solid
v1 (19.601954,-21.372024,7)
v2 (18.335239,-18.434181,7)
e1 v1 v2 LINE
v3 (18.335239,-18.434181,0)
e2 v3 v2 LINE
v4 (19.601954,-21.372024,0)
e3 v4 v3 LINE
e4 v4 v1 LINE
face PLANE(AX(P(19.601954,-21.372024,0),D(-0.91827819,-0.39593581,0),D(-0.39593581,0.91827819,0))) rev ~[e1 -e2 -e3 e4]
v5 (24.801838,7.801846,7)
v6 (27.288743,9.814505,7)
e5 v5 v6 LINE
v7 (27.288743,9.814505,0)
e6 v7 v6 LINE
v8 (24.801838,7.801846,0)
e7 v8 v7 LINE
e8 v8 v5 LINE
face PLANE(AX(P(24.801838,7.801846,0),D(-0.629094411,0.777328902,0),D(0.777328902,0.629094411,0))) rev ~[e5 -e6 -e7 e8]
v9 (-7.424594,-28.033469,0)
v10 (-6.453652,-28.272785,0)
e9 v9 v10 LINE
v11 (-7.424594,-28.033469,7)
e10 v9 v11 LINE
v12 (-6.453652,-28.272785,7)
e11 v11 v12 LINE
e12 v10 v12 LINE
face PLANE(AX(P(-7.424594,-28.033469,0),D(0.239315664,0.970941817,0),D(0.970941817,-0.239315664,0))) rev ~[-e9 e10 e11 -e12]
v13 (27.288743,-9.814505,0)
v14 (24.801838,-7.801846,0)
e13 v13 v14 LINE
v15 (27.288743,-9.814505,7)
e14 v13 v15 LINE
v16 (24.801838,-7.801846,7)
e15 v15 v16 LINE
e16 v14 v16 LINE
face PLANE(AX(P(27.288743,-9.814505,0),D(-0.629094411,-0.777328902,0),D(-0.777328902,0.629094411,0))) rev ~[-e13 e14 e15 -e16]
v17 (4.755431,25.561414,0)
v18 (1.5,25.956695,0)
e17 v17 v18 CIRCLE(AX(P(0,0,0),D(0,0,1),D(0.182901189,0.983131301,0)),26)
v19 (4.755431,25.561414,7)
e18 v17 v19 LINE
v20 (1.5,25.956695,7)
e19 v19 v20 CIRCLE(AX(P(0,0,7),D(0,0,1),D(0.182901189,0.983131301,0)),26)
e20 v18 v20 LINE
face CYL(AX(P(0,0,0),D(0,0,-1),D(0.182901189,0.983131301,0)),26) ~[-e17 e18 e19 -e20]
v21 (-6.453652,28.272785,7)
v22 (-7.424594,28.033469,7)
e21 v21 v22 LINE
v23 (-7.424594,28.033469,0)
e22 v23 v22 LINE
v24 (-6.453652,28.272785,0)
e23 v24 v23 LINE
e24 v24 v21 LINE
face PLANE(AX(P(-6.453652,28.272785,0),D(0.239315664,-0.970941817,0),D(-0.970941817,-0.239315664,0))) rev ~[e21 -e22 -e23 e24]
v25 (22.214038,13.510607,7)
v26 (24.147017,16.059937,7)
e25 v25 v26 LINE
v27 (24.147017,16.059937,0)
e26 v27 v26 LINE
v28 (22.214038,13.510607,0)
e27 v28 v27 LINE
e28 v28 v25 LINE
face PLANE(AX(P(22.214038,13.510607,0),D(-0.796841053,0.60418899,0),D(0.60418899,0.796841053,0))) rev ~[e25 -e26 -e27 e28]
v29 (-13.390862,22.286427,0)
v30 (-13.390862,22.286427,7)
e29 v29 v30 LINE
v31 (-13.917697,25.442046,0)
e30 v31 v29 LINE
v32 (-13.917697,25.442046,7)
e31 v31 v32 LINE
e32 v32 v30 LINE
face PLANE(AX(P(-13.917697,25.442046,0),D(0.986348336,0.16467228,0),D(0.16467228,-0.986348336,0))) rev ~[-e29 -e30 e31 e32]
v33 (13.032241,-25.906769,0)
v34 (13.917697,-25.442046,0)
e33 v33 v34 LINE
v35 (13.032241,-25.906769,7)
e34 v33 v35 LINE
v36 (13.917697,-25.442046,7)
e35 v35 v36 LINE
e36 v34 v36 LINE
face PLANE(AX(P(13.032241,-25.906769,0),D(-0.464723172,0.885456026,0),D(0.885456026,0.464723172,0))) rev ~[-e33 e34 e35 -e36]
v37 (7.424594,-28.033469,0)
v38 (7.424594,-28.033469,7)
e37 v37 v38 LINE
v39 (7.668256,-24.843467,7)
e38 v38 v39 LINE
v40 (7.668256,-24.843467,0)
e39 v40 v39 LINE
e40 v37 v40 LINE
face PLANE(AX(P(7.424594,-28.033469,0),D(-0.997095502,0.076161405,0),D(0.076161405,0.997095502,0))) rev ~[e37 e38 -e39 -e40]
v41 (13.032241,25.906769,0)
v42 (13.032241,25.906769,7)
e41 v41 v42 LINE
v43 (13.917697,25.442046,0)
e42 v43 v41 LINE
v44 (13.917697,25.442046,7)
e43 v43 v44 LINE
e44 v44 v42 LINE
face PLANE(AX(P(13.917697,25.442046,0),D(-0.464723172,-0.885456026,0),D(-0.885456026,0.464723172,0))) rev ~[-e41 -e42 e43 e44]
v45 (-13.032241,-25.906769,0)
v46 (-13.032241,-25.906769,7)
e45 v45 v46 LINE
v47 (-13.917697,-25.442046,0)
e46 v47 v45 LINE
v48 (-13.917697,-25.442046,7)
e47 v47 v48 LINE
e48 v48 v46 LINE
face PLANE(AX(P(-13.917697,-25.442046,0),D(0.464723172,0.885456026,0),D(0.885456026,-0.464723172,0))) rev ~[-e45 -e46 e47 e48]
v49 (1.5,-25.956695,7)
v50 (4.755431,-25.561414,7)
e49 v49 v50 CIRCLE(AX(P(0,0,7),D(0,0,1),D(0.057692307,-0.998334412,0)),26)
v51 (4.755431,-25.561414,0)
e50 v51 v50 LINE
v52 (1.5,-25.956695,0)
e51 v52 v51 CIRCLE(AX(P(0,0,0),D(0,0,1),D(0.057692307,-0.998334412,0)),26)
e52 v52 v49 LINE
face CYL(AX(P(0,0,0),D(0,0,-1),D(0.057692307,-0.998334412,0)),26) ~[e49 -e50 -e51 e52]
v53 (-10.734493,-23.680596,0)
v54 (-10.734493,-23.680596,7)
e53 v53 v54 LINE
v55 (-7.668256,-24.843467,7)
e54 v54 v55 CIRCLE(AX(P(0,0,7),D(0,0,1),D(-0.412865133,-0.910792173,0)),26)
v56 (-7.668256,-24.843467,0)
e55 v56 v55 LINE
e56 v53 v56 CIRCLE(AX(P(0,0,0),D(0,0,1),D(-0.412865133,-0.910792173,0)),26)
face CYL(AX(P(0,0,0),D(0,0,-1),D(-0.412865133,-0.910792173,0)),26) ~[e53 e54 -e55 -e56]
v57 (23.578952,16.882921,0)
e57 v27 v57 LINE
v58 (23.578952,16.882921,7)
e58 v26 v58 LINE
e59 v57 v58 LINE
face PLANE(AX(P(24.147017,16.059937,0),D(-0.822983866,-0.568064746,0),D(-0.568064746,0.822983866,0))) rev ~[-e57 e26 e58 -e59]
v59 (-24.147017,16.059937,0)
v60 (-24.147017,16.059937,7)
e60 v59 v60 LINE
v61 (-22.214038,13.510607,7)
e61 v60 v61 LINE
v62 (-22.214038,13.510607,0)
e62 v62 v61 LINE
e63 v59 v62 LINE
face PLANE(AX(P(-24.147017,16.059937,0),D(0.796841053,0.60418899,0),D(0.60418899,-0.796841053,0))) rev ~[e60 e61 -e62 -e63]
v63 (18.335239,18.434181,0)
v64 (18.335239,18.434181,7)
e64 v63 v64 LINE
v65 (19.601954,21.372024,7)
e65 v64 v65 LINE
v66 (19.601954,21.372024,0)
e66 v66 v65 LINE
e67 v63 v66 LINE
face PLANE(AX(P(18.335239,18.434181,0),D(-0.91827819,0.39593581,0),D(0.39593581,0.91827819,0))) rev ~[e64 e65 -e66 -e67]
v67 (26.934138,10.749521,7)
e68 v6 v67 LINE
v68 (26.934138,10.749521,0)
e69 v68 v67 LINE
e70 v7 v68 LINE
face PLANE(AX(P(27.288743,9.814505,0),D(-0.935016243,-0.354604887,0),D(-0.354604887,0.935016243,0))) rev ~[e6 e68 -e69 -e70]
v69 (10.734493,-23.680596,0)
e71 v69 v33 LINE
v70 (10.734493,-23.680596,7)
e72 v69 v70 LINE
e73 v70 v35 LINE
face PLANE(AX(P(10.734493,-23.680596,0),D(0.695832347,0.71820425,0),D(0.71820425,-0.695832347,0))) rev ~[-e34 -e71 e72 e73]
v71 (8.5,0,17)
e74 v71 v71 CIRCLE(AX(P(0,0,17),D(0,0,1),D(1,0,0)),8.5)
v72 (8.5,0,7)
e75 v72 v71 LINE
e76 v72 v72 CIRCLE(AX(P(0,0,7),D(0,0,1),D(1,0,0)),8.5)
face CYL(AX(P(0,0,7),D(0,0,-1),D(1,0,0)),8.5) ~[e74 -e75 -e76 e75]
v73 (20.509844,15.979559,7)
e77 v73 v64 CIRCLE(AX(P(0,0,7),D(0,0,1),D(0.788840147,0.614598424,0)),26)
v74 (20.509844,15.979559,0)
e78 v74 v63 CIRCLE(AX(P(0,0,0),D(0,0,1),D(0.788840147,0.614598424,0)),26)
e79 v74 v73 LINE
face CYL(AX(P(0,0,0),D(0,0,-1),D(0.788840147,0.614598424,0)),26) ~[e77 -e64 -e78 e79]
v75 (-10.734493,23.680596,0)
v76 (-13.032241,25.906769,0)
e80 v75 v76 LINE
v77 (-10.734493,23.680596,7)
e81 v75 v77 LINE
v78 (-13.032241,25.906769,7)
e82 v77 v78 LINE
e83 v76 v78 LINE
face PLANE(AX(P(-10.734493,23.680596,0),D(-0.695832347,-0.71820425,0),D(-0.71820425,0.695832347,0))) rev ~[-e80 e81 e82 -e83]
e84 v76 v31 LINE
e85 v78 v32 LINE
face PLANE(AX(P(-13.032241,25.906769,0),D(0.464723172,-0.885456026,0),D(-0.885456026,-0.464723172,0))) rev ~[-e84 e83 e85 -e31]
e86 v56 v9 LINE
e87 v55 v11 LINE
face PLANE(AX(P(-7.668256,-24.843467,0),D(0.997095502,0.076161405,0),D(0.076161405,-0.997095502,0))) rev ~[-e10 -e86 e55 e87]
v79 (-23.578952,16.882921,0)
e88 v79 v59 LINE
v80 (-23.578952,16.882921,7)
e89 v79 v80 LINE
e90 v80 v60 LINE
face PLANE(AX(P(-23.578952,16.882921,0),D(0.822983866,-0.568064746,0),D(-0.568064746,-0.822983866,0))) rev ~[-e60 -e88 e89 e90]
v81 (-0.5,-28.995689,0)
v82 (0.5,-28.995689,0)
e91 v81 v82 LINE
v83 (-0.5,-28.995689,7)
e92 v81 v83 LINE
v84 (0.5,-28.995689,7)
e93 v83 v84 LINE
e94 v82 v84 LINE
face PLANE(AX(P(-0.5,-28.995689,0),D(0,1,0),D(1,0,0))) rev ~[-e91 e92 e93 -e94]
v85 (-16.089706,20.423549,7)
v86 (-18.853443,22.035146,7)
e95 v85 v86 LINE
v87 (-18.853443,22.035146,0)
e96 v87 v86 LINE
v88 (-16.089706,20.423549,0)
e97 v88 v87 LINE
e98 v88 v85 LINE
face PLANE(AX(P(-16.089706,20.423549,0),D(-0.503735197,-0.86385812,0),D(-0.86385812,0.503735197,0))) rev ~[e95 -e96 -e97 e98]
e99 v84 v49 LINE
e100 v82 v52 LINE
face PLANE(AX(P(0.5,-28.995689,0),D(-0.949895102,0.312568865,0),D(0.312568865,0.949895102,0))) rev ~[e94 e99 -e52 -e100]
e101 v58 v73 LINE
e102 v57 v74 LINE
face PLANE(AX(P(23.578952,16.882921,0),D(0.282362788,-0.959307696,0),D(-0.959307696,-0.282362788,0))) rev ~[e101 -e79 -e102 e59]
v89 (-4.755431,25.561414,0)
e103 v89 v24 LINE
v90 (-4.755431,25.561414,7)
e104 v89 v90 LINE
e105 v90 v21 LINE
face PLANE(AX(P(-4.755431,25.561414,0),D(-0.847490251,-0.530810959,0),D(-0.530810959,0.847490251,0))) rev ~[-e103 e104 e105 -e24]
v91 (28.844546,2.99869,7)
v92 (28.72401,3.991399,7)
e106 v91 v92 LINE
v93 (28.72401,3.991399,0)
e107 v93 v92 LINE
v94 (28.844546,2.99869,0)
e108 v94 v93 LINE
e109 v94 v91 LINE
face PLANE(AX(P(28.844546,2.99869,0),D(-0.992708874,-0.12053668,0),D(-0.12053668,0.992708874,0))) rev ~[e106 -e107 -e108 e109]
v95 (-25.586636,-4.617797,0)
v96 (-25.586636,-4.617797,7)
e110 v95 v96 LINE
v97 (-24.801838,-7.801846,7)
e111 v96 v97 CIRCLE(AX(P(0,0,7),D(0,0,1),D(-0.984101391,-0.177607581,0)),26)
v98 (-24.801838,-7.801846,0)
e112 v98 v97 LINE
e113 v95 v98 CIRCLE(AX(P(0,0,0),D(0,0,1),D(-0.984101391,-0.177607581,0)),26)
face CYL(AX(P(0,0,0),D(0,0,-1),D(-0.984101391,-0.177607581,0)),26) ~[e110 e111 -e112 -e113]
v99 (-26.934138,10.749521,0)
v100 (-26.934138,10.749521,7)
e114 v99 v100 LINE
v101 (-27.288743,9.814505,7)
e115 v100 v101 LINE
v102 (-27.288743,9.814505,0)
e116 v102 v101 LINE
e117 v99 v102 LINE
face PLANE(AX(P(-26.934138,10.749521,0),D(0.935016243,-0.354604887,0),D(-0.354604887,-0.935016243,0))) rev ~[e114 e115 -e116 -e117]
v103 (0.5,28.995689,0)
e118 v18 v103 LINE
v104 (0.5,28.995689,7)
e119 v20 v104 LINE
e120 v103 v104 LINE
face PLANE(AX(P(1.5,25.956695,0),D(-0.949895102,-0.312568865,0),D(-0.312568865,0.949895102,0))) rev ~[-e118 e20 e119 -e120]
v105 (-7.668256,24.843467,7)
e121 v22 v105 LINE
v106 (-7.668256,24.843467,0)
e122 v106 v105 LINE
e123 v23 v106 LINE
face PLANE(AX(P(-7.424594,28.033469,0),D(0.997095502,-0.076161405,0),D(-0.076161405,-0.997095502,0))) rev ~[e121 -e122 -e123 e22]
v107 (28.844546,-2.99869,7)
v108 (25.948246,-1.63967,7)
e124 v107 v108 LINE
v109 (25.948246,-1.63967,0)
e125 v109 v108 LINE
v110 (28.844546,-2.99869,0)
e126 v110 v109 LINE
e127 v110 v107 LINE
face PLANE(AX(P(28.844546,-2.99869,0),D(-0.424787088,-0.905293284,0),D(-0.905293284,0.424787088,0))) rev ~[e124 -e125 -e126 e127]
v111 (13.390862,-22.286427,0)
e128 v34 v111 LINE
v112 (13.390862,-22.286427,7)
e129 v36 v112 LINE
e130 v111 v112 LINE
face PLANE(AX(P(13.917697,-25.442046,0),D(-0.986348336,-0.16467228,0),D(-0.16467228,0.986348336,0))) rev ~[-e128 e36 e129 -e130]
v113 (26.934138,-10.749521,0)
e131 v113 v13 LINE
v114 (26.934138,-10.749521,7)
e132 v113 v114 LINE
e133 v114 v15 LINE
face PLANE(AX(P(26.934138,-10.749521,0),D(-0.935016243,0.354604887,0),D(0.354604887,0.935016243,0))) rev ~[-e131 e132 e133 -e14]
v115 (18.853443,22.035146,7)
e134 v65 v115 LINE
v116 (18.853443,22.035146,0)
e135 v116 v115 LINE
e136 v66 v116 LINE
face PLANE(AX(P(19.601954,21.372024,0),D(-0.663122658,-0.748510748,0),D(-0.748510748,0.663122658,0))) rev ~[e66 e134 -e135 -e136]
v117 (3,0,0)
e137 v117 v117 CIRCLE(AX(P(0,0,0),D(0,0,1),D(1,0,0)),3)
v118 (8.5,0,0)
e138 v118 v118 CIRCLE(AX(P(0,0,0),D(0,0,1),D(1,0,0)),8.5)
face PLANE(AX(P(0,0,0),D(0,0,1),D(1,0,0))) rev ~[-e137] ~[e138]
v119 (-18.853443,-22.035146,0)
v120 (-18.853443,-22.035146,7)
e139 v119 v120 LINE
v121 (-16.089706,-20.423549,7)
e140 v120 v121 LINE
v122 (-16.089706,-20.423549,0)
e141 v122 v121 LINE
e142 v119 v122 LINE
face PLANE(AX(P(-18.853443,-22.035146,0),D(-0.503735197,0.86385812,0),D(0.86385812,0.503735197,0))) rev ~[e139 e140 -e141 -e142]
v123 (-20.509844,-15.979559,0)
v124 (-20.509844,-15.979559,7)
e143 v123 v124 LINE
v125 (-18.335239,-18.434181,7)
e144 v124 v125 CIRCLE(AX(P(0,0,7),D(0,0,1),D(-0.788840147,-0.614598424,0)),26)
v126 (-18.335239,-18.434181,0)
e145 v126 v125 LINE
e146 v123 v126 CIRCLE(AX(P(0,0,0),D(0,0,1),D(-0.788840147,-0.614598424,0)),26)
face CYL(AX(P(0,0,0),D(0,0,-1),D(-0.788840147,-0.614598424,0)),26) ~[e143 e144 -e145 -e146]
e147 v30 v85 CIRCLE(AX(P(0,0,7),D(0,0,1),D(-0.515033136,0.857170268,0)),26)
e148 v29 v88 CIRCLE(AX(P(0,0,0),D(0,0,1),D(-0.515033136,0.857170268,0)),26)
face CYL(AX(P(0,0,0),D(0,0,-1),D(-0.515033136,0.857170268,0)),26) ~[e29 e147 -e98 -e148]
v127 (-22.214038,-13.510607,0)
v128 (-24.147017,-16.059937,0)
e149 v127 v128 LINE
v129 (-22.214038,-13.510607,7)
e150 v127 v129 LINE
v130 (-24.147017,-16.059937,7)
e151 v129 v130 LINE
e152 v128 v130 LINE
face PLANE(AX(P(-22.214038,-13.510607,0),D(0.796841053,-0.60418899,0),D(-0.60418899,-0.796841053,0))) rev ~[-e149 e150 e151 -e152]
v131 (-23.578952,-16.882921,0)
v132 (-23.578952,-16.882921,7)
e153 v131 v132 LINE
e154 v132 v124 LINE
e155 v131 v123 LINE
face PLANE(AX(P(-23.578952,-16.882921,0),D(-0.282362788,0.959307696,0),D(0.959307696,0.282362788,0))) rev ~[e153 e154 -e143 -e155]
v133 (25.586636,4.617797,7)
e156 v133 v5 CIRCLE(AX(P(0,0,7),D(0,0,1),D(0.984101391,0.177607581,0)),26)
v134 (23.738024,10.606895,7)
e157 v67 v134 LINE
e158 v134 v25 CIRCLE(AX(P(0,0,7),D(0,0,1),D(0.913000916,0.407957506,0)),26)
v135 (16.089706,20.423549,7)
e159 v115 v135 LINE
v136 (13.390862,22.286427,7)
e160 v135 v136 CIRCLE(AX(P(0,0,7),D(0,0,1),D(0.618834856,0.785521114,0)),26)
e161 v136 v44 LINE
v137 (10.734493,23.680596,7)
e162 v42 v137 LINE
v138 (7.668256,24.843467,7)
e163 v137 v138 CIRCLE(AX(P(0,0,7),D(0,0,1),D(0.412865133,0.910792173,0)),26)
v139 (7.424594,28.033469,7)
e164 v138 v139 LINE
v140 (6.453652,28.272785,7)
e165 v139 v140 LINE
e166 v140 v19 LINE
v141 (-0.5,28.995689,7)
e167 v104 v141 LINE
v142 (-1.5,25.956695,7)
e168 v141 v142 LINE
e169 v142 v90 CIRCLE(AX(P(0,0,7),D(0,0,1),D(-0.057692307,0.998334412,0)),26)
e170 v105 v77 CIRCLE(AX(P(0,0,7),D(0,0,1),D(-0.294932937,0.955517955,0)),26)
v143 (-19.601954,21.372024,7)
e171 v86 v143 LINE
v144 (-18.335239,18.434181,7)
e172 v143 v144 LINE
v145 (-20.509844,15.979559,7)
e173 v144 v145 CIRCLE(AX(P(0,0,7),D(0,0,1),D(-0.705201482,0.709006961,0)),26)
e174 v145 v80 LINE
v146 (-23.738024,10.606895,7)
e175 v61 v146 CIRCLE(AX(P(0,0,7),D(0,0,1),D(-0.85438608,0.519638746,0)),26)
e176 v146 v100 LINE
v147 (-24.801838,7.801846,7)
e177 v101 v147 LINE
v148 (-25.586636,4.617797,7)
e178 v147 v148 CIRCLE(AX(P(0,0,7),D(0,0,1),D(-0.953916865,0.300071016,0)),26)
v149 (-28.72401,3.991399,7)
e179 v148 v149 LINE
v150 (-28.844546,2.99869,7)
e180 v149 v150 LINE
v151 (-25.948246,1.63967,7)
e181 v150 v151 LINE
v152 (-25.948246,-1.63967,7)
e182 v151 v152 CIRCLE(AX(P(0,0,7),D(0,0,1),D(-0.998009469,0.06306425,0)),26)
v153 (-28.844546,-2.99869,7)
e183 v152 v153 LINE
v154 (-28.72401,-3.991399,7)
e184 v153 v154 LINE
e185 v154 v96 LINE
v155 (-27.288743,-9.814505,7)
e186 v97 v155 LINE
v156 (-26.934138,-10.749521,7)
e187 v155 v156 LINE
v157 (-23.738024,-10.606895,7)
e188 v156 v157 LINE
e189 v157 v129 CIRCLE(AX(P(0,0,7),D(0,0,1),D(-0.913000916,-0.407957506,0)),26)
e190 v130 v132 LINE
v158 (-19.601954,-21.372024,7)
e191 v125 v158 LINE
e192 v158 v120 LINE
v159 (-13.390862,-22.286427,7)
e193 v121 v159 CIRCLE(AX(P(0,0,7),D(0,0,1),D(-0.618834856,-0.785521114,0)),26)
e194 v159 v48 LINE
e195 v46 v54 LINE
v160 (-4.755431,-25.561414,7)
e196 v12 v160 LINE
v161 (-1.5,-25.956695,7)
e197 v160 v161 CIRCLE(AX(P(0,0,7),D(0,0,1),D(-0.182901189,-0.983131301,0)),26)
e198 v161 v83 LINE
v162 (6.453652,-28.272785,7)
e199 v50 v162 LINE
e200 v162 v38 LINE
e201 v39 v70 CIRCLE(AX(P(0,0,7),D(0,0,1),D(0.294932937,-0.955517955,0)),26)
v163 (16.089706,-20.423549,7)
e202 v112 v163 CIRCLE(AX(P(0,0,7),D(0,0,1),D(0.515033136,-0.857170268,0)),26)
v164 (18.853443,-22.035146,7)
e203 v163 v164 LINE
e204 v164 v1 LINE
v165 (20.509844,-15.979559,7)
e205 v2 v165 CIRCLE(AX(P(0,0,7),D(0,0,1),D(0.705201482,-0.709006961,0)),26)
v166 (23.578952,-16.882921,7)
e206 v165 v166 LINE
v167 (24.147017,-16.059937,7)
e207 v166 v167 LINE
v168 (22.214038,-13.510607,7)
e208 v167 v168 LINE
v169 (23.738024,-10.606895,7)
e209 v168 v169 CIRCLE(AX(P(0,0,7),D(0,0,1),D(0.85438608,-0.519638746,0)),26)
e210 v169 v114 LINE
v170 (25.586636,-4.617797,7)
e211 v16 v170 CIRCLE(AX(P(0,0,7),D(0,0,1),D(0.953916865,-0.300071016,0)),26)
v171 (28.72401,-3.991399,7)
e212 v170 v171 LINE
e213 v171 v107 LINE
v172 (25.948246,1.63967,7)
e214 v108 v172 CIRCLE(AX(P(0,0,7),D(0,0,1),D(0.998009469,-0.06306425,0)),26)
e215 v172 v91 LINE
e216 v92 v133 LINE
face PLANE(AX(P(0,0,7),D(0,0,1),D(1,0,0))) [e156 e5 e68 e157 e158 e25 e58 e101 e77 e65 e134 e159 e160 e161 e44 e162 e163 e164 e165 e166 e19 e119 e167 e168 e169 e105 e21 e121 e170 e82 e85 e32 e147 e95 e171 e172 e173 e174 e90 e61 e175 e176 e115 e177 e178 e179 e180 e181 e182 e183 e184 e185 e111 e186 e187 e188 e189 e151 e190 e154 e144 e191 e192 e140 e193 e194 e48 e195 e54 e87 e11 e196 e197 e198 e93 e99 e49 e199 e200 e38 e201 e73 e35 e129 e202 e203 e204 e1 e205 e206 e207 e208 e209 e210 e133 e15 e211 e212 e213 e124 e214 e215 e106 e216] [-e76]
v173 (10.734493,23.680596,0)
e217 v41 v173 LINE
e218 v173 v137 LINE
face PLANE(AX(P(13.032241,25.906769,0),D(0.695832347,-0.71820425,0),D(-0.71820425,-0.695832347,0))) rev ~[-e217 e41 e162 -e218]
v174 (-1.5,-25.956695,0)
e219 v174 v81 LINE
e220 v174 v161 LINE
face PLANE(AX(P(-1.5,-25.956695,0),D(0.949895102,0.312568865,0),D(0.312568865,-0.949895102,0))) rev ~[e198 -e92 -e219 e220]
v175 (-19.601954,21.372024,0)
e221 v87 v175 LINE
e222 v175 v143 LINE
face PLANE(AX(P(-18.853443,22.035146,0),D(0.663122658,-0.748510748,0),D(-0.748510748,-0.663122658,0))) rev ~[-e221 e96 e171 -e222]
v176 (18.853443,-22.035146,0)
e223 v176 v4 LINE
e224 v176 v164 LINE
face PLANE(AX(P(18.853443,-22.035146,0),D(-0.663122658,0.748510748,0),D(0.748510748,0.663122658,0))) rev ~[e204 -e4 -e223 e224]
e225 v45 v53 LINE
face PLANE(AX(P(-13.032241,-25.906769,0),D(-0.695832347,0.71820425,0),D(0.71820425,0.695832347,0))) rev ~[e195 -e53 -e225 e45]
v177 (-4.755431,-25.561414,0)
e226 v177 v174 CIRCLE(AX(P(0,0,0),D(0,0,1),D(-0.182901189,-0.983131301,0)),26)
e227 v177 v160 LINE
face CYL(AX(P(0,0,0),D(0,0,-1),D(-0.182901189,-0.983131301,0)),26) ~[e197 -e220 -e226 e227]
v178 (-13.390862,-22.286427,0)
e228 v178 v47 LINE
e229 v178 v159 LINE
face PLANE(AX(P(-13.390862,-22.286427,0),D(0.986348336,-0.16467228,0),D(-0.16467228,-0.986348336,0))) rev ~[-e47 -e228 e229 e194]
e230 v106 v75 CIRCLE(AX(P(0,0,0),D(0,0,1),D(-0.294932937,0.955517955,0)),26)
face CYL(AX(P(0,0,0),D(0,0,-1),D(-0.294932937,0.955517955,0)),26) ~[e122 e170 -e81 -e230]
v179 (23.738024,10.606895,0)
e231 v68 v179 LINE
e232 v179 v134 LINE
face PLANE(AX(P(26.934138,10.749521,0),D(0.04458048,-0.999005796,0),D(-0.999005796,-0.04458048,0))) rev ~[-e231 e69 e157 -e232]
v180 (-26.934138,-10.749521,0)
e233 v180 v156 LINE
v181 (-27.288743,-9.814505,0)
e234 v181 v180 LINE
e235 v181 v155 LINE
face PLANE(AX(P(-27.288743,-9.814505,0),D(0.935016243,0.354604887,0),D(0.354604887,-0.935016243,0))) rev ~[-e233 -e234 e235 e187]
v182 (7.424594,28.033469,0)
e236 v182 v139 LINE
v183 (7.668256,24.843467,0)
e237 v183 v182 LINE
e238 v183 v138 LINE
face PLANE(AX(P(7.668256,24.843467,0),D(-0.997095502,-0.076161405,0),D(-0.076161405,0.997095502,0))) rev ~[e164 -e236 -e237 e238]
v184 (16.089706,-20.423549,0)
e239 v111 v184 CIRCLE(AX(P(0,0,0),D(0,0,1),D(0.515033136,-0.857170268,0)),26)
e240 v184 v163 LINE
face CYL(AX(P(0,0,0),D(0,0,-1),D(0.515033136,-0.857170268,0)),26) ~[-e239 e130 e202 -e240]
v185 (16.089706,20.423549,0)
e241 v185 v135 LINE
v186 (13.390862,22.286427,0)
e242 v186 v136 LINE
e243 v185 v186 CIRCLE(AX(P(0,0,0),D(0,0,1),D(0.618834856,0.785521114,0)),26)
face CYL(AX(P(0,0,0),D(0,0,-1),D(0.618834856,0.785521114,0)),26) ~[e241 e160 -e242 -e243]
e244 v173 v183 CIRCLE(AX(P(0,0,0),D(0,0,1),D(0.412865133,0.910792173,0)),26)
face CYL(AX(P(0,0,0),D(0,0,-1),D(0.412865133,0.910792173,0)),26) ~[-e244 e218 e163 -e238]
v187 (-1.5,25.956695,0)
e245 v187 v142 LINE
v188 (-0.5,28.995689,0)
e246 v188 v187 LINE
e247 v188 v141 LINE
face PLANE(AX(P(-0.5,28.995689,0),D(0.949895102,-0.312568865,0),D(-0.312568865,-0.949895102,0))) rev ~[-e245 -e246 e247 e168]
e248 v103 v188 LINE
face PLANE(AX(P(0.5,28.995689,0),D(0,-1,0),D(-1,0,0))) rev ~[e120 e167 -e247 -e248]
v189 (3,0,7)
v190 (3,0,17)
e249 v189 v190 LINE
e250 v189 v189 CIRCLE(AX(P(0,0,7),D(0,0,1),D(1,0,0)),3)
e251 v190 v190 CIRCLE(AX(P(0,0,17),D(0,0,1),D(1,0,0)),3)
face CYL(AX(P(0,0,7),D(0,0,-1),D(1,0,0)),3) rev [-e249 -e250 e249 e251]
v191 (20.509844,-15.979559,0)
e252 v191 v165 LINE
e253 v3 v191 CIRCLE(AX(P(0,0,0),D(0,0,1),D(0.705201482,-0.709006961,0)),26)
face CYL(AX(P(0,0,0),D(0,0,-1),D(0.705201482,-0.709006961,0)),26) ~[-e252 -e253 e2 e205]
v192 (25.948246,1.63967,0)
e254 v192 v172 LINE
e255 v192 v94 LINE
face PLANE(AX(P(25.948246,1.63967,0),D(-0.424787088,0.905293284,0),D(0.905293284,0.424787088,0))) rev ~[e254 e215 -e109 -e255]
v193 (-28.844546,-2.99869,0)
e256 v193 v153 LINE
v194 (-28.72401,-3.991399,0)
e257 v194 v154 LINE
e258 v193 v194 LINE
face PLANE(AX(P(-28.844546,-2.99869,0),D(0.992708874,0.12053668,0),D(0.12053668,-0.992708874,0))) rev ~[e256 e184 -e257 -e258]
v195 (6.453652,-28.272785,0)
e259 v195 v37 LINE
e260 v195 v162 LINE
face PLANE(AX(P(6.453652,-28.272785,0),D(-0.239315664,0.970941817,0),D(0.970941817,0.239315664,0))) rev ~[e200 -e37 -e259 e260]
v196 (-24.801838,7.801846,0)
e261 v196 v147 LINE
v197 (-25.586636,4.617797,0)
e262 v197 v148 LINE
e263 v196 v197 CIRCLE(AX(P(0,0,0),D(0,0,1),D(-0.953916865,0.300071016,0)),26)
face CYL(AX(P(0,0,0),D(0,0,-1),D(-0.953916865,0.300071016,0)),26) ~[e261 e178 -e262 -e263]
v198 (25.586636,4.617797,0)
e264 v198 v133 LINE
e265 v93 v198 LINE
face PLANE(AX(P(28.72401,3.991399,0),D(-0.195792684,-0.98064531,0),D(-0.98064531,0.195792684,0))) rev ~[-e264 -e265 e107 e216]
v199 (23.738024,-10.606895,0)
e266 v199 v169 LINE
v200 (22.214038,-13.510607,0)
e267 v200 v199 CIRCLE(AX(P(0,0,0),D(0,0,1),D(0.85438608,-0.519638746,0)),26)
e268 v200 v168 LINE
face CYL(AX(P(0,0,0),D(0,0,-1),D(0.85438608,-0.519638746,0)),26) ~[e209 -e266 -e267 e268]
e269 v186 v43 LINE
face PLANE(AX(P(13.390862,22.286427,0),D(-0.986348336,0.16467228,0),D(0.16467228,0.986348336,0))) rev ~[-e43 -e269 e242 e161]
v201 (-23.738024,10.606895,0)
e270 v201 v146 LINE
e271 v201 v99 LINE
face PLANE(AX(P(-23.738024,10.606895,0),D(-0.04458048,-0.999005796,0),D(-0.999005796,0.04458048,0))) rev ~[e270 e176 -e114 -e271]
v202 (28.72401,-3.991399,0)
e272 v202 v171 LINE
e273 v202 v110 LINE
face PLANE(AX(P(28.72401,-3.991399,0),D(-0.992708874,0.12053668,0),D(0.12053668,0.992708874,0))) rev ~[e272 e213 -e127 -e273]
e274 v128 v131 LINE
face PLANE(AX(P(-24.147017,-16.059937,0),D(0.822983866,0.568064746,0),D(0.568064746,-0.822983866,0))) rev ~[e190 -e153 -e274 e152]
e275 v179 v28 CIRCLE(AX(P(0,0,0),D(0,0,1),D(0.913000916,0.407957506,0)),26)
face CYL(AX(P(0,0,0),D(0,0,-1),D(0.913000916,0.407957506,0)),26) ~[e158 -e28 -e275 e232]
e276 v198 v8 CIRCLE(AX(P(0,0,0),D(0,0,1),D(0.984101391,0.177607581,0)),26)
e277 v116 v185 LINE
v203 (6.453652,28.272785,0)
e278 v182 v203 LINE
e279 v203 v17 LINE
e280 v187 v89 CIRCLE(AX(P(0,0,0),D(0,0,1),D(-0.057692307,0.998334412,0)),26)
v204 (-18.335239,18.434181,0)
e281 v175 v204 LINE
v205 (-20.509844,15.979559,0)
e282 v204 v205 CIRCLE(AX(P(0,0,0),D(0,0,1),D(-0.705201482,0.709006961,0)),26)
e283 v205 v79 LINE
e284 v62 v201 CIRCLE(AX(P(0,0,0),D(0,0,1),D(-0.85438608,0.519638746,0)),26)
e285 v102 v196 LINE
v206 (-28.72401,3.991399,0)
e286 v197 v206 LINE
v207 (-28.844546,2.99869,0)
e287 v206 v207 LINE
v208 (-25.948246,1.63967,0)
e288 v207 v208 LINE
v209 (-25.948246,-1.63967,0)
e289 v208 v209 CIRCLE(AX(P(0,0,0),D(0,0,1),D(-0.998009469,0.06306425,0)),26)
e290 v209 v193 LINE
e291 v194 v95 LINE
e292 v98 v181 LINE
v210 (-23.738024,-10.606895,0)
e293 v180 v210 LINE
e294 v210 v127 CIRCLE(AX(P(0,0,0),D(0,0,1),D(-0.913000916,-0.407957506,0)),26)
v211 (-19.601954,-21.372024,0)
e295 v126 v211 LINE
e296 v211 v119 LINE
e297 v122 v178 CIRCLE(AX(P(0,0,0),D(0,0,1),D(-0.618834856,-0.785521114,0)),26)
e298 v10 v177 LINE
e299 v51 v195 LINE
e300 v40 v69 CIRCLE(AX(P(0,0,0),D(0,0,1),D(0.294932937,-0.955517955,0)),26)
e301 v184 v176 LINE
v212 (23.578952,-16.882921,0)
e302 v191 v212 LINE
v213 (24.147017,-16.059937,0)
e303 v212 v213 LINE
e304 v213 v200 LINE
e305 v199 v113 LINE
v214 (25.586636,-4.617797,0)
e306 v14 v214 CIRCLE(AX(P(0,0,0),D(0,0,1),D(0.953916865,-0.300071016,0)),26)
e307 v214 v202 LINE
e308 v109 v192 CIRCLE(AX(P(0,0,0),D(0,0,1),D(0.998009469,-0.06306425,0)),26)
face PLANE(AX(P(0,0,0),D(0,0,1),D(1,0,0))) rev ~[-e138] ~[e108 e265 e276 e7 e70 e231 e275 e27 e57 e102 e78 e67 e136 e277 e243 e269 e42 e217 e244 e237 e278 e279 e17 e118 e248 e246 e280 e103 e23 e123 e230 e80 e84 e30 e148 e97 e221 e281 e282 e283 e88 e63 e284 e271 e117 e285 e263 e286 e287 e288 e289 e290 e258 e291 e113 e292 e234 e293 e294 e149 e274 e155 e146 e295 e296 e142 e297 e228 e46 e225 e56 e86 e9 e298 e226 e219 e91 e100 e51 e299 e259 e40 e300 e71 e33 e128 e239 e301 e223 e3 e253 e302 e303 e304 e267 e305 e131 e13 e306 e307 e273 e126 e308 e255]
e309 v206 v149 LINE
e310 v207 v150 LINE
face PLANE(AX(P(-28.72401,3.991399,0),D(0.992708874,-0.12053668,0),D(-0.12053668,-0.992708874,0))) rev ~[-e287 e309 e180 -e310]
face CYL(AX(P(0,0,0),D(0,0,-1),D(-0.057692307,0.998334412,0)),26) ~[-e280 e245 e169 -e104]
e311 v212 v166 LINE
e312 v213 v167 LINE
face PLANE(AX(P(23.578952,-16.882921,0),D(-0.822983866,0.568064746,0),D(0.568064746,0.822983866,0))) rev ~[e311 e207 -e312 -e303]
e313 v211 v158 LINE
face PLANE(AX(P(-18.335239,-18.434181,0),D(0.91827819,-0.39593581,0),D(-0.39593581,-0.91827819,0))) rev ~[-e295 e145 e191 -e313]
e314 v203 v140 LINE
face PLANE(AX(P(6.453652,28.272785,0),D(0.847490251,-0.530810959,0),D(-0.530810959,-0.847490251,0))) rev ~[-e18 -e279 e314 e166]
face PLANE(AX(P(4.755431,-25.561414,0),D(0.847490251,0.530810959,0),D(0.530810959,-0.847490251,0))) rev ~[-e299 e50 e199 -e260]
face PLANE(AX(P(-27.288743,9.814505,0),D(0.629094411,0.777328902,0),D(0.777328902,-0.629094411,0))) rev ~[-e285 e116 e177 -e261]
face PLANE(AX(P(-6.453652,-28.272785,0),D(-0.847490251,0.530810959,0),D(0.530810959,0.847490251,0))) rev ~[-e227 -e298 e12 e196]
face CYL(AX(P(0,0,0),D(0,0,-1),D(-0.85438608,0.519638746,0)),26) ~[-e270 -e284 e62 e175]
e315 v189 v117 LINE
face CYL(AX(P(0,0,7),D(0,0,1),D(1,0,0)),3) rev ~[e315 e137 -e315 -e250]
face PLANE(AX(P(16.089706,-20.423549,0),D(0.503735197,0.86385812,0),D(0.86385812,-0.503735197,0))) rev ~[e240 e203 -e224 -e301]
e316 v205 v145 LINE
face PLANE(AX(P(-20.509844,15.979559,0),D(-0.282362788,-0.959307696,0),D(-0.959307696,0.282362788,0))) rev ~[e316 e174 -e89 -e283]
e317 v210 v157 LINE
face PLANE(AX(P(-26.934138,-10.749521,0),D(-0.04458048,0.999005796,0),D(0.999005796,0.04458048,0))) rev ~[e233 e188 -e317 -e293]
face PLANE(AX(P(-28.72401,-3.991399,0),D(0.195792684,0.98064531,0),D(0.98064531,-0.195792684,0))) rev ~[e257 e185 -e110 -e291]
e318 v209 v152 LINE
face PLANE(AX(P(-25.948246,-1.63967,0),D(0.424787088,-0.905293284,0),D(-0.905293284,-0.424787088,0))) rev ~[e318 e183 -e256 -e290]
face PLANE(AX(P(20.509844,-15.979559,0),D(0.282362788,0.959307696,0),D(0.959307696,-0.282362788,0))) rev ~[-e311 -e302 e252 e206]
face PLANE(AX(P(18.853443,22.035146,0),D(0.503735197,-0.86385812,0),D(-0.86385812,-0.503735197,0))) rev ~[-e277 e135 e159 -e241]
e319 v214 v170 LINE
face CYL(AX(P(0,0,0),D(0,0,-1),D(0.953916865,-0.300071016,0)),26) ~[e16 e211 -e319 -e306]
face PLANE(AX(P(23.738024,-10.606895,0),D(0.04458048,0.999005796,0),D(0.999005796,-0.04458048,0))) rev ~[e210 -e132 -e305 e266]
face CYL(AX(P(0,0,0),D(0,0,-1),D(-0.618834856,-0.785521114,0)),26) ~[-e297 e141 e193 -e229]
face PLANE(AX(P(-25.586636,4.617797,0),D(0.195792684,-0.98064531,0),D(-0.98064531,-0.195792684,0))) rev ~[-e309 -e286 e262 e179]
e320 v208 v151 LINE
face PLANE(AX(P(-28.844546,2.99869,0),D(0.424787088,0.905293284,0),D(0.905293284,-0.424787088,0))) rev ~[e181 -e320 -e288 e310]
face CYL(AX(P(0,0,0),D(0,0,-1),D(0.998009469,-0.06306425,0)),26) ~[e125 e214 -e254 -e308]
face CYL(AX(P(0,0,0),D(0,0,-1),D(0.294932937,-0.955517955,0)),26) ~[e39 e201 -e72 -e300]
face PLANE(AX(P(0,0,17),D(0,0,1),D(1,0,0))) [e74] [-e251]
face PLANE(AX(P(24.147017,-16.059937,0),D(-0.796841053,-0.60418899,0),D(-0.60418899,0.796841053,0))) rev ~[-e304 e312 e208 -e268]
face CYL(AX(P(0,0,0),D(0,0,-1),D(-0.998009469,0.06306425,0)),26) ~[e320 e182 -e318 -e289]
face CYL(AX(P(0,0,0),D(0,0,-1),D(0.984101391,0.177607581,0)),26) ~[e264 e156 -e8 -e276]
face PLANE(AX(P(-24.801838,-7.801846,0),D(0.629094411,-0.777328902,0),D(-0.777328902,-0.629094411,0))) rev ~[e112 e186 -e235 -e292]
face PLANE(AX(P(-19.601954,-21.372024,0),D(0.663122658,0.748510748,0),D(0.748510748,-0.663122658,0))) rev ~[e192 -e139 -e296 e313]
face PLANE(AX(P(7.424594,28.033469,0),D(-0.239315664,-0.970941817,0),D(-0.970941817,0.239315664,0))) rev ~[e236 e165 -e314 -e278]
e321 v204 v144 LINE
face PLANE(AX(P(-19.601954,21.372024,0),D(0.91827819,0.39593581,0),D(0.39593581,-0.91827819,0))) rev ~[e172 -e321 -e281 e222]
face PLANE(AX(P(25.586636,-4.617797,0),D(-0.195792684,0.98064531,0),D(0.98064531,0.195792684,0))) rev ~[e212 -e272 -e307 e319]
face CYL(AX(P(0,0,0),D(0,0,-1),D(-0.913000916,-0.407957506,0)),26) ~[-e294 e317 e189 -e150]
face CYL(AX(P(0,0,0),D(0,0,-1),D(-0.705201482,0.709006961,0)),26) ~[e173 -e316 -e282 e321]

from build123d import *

# Parameters (mm, degrees)
SKETCH1_R                = 8.5
BOSS_EXTRUDE1_DEPTH      = 7
SKETCH2_R                = 8.5
SKETCH2_R_2              = 3
BOSS_EXTRUDE2_DEPTH      = 10
BOSS_EXTRUDE2_DEPTH_BACK = 7


with BuildPart() as part:
    # Sketch1 → Boss-Extrude1 (new body)
    with BuildSketch(Plane.XY):
        with BuildLine():
            Line((6.453651746, 28.272785132), (4.75543091, 25.561413828))
            ThreePointArc((4.75543091, 25.561413828), (3.133953687, 25.810430727), (1.5, 25.956694705))
            Line((1.5, 25.956694705), (0.5, 28.995689335))
            Line((0.5, 28.995689335), (-0.5, 28.995689335))
            Line((-0.5, 28.995689335), (-1.5, 25.956694705))
            ThreePointArc((-1.5, 25.956694705), (-3.133953687, 25.810430727), (-4.75543091, 25.561413828))
            Line((-4.75543091, 25.561413828), (-6.453651746, 28.272785132))
            Line((-6.453651746, 28.272785132), (-7.424593563, 28.033469468))
            Line((-7.424593563, 28.033469468), (-7.668256362, 24.843466835))
            ThreePointArc((-7.668256362, 24.843466835), (-9.219727063, 24.31042231), (-10.734493461, 23.680596491))
            Line((-10.734493461, 23.680596491), (-13.03224071, 25.906769425))
            Line((-13.03224071, 25.906769425), (-13.917696736, 25.442046253))
            Line((-13.917696736, 25.442046253), (-13.390861537, 22.286426974))
            ThreePointArc((-13.390861537, 22.286426974), (-14.769683415, 21.397580513), (-16.08970627, 20.423548961))
            Line((-16.08970627, 20.423548961), (-18.853443215, 22.035146447))
            Line((-18.853443215, 22.035146447), (-19.601953963, 21.372023789))
            Line((-19.601953963, 21.372023789), (-18.335238514, 18.434180986))
            ThreePointArc((-18.335238514, 18.434180986), (-19.461279452, 17.241189114), (-20.509843834, 15.979559002))
            Line((-20.509843834, 15.979559002), (-23.57895213, 16.882920851))
            Line((-23.57895213, 16.882920851), (-24.147016876, 16.059936985))
            Line((-24.147016876, 16.059936985), (-22.214038074, 13.510607405))
            ThreePointArc((-22.214038074, 13.510607405), (-23.021856667, 12.082802473), (-23.738023825, 10.606895158))
            Line((-23.738023825, 10.606895158), (-26.934138052, 10.749521263))
            Line((-26.934138052, 10.749521263), (-27.288742939, 9.81450502))
            Line((-27.288742939, 9.81450502), (-24.801838486, 7.80184643))
            ThreePointArc((-24.801838486, 7.80184643), (-25.244487253, 6.222207271), (-25.586636155, 4.617797121))
            Line((-25.586636155, 4.617797121), (-28.724009773, 3.991398571))
            Line((-28.724009773, 3.991398571), (-28.844546453, 2.998689697))
            Line((-28.844546453, 2.998689697), (-25.948246196, 1.639670499))
            ThreePointArc((-25.948246196, 1.639670499), (-26, 0), (-25.948246196, -1.639670499))
            Line((-25.948246196, -1.639670499), (-28.844546453, -2.998689697))
            Line((-28.844546453, -2.998689697), (-28.724009773, -3.991398571))
            Line((-28.724009773, -3.991398571), (-25.586636155, -4.617797121))
            ThreePointArc((-25.586636155, -4.617797121), (-25.244487253, -6.222207271), (-24.801838486, -7.80184643))
            Line((-24.801838486, -7.80184643), (-27.288742939, -9.81450502))
            Line((-27.288742939, -9.81450502), (-26.934138052, -10.749521263))
            Line((-26.934138052, -10.749521263), (-23.738023825, -10.606895158))
            ThreePointArc((-23.738023825, -10.606895158), (-23.021856667, -12.082802473), (-22.214038074, -13.510607405))
            Line((-22.214038074, -13.510607405), (-24.147016876, -16.059936985))
            Line((-24.147016876, -16.059936985), (-23.57895213, -16.882920851))
            Line((-23.57895213, -16.882920851), (-20.509843834, -15.979559002))
            ThreePointArc((-20.509843834, -15.979559002), (-19.461279452, -17.241189114), (-18.335238514, -18.434180986))
            Line((-18.335238514, -18.434180986), (-19.601953963, -21.372023789))
            Line((-19.601953963, -21.372023789), (-18.853443215, -22.035146447))
            Line((-18.853443215, -22.035146447), (-16.08970627, -20.423548961))
            ThreePointArc((-16.08970627, -20.423548961), (-14.769683415, -21.397580513), (-13.390861537, -22.286426974))
            Line((-13.390861537, -22.286426974), (-13.917696736, -25.442046253))
            Line((-13.917696736, -25.442046253), (-13.03224071, -25.906769425))
            Line((-13.03224071, -25.906769425), (-10.734493461, -23.680596491))
            ThreePointArc((-10.734493461, -23.680596491), (-9.219727063, -24.31042231), (-7.668256362, -24.843466835))
            Line((-7.668256362, -24.843466835), (-7.424593563, -28.033469468))
            Line((-7.424593563, -28.033469468), (-6.453651746, -28.272785132))
            Line((-6.453651746, -28.272785132), (-4.75543091, -25.561413828))
            ThreePointArc((-4.75543091, -25.561413828), (-3.133953687, -25.810430727), (-1.5, -25.956694705))
            Line((-1.5, -25.956694705), (-0.5, -28.995689335))
            Line((-0.5, -28.995689335), (0.5, -28.995689335))
            Line((0.5, -28.995689335), (1.5, -25.956694705))
            ThreePointArc((1.5, -25.956694705), (3.133953687, -25.810430727), (4.75543091, -25.561413828))
            Line((4.75543091, -25.561413828), (6.453651746, -28.272785132))
            Line((6.453651746, -28.272785132), (7.424593563, -28.033469468))
            Line((7.424593563, -28.033469468), (7.668256362, -24.843466835))
            ThreePointArc((7.668256362, -24.843466835), (9.219727063, -24.31042231), (10.734493461, -23.680596491))
            Line((10.734493461, -23.680596491), (13.03224071, -25.906769425))
            Line((13.03224071, -25.906769425), (13.917696736, -25.442046253))
            Line((13.917696736, -25.442046253), (13.390861537, -22.286426974))
            ThreePointArc((13.390861537, -22.286426974), (14.769683415, -21.397580513), (16.08970627, -20.423548961))
            Line((16.08970627, -20.423548961), (18.853443215, -22.035146447))
            Line((18.853443215, -22.035146447), (19.601953963, -21.372023789))
            Line((19.601953963, -21.372023789), (18.335238514, -18.434180986))
            ThreePointArc((18.335238514, -18.434180986), (19.461279452, -17.241189114), (20.509843834, -15.979559002))
            Line((20.509843834, -15.979559002), (23.57895213, -16.882920851))
            Line((23.57895213, -16.882920851), (24.147016876, -16.059936985))
            Line((24.147016876, -16.059936985), (22.214038074, -13.510607405))
            ThreePointArc((22.214038074, -13.510607405), (23.021856667, -12.082802473), (23.738023825, -10.606895158))
            Line((23.738023825, -10.606895158), (26.934138052, -10.749521263))
            Line((26.934138052, -10.749521263), (27.288742939, -9.81450502))
            Line((27.288742939, -9.81450502), (24.801838486, -7.80184643))
            ThreePointArc((24.801838486, -7.80184643), (25.244487253, -6.222207271), (25.586636155, -4.617797121))
            Line((25.586636155, -4.617797121), (28.724009773, -3.991398571))
            Line((28.724009773, -3.991398571), (28.844546453, -2.998689697))
            Line((28.844546453, -2.998689697), (25.948246196, -1.639670499))
            ThreePointArc((25.948246196, -1.639670499), (26, 0), (25.948246196, 1.639670499))
            Line((25.948246196, 1.639670499), (28.844546453, 2.998689697))
            Line((28.844546453, 2.998689697), (28.724009773, 3.991398571))
            Line((28.724009773, 3.991398571), (25.586636155, 4.617797121))
            ThreePointArc((25.586636155, 4.617797121), (25.244487253, 6.222207271), (24.801838486, 7.80184643))
            Line((24.801838486, 7.80184643), (27.288742939, 9.81450502))
            Line((27.288742939, 9.81450502), (26.934138052, 10.749521263))
            Line((26.934138052, 10.749521263), (23.738023825, 10.606895158))
            ThreePointArc((23.738023825, 10.606895158), (23.021856667, 12.082802473), (22.214038074, 13.510607405))
            Line((22.214038074, 13.510607405), (24.147016876, 16.059936985))
            Line((24.147016876, 16.059936985), (23.57895213, 16.882920851))
            Line((23.57895213, 16.882920851), (20.509843834, 15.979559002))
            ThreePointArc((20.509843834, 15.979559002), (19.461279452, 17.241189114), (18.335238514, 18.434180986))
            Line((18.335238514, 18.434180986), (19.601953963, 21.372023789))
            Line((19.601953963, 21.372023789), (18.853443215, 22.035146447))
            Line((18.853443215, 22.035146447), (16.08970627, 20.423548961))
            ThreePointArc((16.08970627, 20.423548961), (14.769683415, 21.397580513), (13.390861537, 22.286426974))
            Line((13.390861537, 22.286426974), (13.917696736, 25.442046253))
            Line((13.917696736, 25.442046253), (13.03224071, 25.906769425))
            Line((13.03224071, 25.906769425), (10.734493461, 23.680596491))
            ThreePointArc((10.734493461, 23.680596491), (9.219727063, 24.31042231), (7.668256362, 24.843466835))
            Line((7.668256362, 24.843466835), (7.424593563, 28.033469468))
            Line((7.424593563, 28.033469468), (6.453651746, 28.272785132))
        make_face()
        Circle(SKETCH1_R, mode=Mode.SUBTRACT)
    extrude(amount=BOSS_EXTRUDE1_DEPTH)

    # Sketch2 → Boss-Extrude2 (add, two sides)
    with BuildSketch(Plane.XY.offset(7)) as boss_extrude2_sk:
        Circle(SKETCH2_R)
        Circle(SKETCH2_R_2, mode=Mode.SUBTRACT)
    extrude(amount=BOSS_EXTRUDE2_DEPTH)
    extrude(boss_extrude2_sk.sketch, amount=-BOSS_EXTRUDE2_DEPTH_BACK)


solid = part.part
